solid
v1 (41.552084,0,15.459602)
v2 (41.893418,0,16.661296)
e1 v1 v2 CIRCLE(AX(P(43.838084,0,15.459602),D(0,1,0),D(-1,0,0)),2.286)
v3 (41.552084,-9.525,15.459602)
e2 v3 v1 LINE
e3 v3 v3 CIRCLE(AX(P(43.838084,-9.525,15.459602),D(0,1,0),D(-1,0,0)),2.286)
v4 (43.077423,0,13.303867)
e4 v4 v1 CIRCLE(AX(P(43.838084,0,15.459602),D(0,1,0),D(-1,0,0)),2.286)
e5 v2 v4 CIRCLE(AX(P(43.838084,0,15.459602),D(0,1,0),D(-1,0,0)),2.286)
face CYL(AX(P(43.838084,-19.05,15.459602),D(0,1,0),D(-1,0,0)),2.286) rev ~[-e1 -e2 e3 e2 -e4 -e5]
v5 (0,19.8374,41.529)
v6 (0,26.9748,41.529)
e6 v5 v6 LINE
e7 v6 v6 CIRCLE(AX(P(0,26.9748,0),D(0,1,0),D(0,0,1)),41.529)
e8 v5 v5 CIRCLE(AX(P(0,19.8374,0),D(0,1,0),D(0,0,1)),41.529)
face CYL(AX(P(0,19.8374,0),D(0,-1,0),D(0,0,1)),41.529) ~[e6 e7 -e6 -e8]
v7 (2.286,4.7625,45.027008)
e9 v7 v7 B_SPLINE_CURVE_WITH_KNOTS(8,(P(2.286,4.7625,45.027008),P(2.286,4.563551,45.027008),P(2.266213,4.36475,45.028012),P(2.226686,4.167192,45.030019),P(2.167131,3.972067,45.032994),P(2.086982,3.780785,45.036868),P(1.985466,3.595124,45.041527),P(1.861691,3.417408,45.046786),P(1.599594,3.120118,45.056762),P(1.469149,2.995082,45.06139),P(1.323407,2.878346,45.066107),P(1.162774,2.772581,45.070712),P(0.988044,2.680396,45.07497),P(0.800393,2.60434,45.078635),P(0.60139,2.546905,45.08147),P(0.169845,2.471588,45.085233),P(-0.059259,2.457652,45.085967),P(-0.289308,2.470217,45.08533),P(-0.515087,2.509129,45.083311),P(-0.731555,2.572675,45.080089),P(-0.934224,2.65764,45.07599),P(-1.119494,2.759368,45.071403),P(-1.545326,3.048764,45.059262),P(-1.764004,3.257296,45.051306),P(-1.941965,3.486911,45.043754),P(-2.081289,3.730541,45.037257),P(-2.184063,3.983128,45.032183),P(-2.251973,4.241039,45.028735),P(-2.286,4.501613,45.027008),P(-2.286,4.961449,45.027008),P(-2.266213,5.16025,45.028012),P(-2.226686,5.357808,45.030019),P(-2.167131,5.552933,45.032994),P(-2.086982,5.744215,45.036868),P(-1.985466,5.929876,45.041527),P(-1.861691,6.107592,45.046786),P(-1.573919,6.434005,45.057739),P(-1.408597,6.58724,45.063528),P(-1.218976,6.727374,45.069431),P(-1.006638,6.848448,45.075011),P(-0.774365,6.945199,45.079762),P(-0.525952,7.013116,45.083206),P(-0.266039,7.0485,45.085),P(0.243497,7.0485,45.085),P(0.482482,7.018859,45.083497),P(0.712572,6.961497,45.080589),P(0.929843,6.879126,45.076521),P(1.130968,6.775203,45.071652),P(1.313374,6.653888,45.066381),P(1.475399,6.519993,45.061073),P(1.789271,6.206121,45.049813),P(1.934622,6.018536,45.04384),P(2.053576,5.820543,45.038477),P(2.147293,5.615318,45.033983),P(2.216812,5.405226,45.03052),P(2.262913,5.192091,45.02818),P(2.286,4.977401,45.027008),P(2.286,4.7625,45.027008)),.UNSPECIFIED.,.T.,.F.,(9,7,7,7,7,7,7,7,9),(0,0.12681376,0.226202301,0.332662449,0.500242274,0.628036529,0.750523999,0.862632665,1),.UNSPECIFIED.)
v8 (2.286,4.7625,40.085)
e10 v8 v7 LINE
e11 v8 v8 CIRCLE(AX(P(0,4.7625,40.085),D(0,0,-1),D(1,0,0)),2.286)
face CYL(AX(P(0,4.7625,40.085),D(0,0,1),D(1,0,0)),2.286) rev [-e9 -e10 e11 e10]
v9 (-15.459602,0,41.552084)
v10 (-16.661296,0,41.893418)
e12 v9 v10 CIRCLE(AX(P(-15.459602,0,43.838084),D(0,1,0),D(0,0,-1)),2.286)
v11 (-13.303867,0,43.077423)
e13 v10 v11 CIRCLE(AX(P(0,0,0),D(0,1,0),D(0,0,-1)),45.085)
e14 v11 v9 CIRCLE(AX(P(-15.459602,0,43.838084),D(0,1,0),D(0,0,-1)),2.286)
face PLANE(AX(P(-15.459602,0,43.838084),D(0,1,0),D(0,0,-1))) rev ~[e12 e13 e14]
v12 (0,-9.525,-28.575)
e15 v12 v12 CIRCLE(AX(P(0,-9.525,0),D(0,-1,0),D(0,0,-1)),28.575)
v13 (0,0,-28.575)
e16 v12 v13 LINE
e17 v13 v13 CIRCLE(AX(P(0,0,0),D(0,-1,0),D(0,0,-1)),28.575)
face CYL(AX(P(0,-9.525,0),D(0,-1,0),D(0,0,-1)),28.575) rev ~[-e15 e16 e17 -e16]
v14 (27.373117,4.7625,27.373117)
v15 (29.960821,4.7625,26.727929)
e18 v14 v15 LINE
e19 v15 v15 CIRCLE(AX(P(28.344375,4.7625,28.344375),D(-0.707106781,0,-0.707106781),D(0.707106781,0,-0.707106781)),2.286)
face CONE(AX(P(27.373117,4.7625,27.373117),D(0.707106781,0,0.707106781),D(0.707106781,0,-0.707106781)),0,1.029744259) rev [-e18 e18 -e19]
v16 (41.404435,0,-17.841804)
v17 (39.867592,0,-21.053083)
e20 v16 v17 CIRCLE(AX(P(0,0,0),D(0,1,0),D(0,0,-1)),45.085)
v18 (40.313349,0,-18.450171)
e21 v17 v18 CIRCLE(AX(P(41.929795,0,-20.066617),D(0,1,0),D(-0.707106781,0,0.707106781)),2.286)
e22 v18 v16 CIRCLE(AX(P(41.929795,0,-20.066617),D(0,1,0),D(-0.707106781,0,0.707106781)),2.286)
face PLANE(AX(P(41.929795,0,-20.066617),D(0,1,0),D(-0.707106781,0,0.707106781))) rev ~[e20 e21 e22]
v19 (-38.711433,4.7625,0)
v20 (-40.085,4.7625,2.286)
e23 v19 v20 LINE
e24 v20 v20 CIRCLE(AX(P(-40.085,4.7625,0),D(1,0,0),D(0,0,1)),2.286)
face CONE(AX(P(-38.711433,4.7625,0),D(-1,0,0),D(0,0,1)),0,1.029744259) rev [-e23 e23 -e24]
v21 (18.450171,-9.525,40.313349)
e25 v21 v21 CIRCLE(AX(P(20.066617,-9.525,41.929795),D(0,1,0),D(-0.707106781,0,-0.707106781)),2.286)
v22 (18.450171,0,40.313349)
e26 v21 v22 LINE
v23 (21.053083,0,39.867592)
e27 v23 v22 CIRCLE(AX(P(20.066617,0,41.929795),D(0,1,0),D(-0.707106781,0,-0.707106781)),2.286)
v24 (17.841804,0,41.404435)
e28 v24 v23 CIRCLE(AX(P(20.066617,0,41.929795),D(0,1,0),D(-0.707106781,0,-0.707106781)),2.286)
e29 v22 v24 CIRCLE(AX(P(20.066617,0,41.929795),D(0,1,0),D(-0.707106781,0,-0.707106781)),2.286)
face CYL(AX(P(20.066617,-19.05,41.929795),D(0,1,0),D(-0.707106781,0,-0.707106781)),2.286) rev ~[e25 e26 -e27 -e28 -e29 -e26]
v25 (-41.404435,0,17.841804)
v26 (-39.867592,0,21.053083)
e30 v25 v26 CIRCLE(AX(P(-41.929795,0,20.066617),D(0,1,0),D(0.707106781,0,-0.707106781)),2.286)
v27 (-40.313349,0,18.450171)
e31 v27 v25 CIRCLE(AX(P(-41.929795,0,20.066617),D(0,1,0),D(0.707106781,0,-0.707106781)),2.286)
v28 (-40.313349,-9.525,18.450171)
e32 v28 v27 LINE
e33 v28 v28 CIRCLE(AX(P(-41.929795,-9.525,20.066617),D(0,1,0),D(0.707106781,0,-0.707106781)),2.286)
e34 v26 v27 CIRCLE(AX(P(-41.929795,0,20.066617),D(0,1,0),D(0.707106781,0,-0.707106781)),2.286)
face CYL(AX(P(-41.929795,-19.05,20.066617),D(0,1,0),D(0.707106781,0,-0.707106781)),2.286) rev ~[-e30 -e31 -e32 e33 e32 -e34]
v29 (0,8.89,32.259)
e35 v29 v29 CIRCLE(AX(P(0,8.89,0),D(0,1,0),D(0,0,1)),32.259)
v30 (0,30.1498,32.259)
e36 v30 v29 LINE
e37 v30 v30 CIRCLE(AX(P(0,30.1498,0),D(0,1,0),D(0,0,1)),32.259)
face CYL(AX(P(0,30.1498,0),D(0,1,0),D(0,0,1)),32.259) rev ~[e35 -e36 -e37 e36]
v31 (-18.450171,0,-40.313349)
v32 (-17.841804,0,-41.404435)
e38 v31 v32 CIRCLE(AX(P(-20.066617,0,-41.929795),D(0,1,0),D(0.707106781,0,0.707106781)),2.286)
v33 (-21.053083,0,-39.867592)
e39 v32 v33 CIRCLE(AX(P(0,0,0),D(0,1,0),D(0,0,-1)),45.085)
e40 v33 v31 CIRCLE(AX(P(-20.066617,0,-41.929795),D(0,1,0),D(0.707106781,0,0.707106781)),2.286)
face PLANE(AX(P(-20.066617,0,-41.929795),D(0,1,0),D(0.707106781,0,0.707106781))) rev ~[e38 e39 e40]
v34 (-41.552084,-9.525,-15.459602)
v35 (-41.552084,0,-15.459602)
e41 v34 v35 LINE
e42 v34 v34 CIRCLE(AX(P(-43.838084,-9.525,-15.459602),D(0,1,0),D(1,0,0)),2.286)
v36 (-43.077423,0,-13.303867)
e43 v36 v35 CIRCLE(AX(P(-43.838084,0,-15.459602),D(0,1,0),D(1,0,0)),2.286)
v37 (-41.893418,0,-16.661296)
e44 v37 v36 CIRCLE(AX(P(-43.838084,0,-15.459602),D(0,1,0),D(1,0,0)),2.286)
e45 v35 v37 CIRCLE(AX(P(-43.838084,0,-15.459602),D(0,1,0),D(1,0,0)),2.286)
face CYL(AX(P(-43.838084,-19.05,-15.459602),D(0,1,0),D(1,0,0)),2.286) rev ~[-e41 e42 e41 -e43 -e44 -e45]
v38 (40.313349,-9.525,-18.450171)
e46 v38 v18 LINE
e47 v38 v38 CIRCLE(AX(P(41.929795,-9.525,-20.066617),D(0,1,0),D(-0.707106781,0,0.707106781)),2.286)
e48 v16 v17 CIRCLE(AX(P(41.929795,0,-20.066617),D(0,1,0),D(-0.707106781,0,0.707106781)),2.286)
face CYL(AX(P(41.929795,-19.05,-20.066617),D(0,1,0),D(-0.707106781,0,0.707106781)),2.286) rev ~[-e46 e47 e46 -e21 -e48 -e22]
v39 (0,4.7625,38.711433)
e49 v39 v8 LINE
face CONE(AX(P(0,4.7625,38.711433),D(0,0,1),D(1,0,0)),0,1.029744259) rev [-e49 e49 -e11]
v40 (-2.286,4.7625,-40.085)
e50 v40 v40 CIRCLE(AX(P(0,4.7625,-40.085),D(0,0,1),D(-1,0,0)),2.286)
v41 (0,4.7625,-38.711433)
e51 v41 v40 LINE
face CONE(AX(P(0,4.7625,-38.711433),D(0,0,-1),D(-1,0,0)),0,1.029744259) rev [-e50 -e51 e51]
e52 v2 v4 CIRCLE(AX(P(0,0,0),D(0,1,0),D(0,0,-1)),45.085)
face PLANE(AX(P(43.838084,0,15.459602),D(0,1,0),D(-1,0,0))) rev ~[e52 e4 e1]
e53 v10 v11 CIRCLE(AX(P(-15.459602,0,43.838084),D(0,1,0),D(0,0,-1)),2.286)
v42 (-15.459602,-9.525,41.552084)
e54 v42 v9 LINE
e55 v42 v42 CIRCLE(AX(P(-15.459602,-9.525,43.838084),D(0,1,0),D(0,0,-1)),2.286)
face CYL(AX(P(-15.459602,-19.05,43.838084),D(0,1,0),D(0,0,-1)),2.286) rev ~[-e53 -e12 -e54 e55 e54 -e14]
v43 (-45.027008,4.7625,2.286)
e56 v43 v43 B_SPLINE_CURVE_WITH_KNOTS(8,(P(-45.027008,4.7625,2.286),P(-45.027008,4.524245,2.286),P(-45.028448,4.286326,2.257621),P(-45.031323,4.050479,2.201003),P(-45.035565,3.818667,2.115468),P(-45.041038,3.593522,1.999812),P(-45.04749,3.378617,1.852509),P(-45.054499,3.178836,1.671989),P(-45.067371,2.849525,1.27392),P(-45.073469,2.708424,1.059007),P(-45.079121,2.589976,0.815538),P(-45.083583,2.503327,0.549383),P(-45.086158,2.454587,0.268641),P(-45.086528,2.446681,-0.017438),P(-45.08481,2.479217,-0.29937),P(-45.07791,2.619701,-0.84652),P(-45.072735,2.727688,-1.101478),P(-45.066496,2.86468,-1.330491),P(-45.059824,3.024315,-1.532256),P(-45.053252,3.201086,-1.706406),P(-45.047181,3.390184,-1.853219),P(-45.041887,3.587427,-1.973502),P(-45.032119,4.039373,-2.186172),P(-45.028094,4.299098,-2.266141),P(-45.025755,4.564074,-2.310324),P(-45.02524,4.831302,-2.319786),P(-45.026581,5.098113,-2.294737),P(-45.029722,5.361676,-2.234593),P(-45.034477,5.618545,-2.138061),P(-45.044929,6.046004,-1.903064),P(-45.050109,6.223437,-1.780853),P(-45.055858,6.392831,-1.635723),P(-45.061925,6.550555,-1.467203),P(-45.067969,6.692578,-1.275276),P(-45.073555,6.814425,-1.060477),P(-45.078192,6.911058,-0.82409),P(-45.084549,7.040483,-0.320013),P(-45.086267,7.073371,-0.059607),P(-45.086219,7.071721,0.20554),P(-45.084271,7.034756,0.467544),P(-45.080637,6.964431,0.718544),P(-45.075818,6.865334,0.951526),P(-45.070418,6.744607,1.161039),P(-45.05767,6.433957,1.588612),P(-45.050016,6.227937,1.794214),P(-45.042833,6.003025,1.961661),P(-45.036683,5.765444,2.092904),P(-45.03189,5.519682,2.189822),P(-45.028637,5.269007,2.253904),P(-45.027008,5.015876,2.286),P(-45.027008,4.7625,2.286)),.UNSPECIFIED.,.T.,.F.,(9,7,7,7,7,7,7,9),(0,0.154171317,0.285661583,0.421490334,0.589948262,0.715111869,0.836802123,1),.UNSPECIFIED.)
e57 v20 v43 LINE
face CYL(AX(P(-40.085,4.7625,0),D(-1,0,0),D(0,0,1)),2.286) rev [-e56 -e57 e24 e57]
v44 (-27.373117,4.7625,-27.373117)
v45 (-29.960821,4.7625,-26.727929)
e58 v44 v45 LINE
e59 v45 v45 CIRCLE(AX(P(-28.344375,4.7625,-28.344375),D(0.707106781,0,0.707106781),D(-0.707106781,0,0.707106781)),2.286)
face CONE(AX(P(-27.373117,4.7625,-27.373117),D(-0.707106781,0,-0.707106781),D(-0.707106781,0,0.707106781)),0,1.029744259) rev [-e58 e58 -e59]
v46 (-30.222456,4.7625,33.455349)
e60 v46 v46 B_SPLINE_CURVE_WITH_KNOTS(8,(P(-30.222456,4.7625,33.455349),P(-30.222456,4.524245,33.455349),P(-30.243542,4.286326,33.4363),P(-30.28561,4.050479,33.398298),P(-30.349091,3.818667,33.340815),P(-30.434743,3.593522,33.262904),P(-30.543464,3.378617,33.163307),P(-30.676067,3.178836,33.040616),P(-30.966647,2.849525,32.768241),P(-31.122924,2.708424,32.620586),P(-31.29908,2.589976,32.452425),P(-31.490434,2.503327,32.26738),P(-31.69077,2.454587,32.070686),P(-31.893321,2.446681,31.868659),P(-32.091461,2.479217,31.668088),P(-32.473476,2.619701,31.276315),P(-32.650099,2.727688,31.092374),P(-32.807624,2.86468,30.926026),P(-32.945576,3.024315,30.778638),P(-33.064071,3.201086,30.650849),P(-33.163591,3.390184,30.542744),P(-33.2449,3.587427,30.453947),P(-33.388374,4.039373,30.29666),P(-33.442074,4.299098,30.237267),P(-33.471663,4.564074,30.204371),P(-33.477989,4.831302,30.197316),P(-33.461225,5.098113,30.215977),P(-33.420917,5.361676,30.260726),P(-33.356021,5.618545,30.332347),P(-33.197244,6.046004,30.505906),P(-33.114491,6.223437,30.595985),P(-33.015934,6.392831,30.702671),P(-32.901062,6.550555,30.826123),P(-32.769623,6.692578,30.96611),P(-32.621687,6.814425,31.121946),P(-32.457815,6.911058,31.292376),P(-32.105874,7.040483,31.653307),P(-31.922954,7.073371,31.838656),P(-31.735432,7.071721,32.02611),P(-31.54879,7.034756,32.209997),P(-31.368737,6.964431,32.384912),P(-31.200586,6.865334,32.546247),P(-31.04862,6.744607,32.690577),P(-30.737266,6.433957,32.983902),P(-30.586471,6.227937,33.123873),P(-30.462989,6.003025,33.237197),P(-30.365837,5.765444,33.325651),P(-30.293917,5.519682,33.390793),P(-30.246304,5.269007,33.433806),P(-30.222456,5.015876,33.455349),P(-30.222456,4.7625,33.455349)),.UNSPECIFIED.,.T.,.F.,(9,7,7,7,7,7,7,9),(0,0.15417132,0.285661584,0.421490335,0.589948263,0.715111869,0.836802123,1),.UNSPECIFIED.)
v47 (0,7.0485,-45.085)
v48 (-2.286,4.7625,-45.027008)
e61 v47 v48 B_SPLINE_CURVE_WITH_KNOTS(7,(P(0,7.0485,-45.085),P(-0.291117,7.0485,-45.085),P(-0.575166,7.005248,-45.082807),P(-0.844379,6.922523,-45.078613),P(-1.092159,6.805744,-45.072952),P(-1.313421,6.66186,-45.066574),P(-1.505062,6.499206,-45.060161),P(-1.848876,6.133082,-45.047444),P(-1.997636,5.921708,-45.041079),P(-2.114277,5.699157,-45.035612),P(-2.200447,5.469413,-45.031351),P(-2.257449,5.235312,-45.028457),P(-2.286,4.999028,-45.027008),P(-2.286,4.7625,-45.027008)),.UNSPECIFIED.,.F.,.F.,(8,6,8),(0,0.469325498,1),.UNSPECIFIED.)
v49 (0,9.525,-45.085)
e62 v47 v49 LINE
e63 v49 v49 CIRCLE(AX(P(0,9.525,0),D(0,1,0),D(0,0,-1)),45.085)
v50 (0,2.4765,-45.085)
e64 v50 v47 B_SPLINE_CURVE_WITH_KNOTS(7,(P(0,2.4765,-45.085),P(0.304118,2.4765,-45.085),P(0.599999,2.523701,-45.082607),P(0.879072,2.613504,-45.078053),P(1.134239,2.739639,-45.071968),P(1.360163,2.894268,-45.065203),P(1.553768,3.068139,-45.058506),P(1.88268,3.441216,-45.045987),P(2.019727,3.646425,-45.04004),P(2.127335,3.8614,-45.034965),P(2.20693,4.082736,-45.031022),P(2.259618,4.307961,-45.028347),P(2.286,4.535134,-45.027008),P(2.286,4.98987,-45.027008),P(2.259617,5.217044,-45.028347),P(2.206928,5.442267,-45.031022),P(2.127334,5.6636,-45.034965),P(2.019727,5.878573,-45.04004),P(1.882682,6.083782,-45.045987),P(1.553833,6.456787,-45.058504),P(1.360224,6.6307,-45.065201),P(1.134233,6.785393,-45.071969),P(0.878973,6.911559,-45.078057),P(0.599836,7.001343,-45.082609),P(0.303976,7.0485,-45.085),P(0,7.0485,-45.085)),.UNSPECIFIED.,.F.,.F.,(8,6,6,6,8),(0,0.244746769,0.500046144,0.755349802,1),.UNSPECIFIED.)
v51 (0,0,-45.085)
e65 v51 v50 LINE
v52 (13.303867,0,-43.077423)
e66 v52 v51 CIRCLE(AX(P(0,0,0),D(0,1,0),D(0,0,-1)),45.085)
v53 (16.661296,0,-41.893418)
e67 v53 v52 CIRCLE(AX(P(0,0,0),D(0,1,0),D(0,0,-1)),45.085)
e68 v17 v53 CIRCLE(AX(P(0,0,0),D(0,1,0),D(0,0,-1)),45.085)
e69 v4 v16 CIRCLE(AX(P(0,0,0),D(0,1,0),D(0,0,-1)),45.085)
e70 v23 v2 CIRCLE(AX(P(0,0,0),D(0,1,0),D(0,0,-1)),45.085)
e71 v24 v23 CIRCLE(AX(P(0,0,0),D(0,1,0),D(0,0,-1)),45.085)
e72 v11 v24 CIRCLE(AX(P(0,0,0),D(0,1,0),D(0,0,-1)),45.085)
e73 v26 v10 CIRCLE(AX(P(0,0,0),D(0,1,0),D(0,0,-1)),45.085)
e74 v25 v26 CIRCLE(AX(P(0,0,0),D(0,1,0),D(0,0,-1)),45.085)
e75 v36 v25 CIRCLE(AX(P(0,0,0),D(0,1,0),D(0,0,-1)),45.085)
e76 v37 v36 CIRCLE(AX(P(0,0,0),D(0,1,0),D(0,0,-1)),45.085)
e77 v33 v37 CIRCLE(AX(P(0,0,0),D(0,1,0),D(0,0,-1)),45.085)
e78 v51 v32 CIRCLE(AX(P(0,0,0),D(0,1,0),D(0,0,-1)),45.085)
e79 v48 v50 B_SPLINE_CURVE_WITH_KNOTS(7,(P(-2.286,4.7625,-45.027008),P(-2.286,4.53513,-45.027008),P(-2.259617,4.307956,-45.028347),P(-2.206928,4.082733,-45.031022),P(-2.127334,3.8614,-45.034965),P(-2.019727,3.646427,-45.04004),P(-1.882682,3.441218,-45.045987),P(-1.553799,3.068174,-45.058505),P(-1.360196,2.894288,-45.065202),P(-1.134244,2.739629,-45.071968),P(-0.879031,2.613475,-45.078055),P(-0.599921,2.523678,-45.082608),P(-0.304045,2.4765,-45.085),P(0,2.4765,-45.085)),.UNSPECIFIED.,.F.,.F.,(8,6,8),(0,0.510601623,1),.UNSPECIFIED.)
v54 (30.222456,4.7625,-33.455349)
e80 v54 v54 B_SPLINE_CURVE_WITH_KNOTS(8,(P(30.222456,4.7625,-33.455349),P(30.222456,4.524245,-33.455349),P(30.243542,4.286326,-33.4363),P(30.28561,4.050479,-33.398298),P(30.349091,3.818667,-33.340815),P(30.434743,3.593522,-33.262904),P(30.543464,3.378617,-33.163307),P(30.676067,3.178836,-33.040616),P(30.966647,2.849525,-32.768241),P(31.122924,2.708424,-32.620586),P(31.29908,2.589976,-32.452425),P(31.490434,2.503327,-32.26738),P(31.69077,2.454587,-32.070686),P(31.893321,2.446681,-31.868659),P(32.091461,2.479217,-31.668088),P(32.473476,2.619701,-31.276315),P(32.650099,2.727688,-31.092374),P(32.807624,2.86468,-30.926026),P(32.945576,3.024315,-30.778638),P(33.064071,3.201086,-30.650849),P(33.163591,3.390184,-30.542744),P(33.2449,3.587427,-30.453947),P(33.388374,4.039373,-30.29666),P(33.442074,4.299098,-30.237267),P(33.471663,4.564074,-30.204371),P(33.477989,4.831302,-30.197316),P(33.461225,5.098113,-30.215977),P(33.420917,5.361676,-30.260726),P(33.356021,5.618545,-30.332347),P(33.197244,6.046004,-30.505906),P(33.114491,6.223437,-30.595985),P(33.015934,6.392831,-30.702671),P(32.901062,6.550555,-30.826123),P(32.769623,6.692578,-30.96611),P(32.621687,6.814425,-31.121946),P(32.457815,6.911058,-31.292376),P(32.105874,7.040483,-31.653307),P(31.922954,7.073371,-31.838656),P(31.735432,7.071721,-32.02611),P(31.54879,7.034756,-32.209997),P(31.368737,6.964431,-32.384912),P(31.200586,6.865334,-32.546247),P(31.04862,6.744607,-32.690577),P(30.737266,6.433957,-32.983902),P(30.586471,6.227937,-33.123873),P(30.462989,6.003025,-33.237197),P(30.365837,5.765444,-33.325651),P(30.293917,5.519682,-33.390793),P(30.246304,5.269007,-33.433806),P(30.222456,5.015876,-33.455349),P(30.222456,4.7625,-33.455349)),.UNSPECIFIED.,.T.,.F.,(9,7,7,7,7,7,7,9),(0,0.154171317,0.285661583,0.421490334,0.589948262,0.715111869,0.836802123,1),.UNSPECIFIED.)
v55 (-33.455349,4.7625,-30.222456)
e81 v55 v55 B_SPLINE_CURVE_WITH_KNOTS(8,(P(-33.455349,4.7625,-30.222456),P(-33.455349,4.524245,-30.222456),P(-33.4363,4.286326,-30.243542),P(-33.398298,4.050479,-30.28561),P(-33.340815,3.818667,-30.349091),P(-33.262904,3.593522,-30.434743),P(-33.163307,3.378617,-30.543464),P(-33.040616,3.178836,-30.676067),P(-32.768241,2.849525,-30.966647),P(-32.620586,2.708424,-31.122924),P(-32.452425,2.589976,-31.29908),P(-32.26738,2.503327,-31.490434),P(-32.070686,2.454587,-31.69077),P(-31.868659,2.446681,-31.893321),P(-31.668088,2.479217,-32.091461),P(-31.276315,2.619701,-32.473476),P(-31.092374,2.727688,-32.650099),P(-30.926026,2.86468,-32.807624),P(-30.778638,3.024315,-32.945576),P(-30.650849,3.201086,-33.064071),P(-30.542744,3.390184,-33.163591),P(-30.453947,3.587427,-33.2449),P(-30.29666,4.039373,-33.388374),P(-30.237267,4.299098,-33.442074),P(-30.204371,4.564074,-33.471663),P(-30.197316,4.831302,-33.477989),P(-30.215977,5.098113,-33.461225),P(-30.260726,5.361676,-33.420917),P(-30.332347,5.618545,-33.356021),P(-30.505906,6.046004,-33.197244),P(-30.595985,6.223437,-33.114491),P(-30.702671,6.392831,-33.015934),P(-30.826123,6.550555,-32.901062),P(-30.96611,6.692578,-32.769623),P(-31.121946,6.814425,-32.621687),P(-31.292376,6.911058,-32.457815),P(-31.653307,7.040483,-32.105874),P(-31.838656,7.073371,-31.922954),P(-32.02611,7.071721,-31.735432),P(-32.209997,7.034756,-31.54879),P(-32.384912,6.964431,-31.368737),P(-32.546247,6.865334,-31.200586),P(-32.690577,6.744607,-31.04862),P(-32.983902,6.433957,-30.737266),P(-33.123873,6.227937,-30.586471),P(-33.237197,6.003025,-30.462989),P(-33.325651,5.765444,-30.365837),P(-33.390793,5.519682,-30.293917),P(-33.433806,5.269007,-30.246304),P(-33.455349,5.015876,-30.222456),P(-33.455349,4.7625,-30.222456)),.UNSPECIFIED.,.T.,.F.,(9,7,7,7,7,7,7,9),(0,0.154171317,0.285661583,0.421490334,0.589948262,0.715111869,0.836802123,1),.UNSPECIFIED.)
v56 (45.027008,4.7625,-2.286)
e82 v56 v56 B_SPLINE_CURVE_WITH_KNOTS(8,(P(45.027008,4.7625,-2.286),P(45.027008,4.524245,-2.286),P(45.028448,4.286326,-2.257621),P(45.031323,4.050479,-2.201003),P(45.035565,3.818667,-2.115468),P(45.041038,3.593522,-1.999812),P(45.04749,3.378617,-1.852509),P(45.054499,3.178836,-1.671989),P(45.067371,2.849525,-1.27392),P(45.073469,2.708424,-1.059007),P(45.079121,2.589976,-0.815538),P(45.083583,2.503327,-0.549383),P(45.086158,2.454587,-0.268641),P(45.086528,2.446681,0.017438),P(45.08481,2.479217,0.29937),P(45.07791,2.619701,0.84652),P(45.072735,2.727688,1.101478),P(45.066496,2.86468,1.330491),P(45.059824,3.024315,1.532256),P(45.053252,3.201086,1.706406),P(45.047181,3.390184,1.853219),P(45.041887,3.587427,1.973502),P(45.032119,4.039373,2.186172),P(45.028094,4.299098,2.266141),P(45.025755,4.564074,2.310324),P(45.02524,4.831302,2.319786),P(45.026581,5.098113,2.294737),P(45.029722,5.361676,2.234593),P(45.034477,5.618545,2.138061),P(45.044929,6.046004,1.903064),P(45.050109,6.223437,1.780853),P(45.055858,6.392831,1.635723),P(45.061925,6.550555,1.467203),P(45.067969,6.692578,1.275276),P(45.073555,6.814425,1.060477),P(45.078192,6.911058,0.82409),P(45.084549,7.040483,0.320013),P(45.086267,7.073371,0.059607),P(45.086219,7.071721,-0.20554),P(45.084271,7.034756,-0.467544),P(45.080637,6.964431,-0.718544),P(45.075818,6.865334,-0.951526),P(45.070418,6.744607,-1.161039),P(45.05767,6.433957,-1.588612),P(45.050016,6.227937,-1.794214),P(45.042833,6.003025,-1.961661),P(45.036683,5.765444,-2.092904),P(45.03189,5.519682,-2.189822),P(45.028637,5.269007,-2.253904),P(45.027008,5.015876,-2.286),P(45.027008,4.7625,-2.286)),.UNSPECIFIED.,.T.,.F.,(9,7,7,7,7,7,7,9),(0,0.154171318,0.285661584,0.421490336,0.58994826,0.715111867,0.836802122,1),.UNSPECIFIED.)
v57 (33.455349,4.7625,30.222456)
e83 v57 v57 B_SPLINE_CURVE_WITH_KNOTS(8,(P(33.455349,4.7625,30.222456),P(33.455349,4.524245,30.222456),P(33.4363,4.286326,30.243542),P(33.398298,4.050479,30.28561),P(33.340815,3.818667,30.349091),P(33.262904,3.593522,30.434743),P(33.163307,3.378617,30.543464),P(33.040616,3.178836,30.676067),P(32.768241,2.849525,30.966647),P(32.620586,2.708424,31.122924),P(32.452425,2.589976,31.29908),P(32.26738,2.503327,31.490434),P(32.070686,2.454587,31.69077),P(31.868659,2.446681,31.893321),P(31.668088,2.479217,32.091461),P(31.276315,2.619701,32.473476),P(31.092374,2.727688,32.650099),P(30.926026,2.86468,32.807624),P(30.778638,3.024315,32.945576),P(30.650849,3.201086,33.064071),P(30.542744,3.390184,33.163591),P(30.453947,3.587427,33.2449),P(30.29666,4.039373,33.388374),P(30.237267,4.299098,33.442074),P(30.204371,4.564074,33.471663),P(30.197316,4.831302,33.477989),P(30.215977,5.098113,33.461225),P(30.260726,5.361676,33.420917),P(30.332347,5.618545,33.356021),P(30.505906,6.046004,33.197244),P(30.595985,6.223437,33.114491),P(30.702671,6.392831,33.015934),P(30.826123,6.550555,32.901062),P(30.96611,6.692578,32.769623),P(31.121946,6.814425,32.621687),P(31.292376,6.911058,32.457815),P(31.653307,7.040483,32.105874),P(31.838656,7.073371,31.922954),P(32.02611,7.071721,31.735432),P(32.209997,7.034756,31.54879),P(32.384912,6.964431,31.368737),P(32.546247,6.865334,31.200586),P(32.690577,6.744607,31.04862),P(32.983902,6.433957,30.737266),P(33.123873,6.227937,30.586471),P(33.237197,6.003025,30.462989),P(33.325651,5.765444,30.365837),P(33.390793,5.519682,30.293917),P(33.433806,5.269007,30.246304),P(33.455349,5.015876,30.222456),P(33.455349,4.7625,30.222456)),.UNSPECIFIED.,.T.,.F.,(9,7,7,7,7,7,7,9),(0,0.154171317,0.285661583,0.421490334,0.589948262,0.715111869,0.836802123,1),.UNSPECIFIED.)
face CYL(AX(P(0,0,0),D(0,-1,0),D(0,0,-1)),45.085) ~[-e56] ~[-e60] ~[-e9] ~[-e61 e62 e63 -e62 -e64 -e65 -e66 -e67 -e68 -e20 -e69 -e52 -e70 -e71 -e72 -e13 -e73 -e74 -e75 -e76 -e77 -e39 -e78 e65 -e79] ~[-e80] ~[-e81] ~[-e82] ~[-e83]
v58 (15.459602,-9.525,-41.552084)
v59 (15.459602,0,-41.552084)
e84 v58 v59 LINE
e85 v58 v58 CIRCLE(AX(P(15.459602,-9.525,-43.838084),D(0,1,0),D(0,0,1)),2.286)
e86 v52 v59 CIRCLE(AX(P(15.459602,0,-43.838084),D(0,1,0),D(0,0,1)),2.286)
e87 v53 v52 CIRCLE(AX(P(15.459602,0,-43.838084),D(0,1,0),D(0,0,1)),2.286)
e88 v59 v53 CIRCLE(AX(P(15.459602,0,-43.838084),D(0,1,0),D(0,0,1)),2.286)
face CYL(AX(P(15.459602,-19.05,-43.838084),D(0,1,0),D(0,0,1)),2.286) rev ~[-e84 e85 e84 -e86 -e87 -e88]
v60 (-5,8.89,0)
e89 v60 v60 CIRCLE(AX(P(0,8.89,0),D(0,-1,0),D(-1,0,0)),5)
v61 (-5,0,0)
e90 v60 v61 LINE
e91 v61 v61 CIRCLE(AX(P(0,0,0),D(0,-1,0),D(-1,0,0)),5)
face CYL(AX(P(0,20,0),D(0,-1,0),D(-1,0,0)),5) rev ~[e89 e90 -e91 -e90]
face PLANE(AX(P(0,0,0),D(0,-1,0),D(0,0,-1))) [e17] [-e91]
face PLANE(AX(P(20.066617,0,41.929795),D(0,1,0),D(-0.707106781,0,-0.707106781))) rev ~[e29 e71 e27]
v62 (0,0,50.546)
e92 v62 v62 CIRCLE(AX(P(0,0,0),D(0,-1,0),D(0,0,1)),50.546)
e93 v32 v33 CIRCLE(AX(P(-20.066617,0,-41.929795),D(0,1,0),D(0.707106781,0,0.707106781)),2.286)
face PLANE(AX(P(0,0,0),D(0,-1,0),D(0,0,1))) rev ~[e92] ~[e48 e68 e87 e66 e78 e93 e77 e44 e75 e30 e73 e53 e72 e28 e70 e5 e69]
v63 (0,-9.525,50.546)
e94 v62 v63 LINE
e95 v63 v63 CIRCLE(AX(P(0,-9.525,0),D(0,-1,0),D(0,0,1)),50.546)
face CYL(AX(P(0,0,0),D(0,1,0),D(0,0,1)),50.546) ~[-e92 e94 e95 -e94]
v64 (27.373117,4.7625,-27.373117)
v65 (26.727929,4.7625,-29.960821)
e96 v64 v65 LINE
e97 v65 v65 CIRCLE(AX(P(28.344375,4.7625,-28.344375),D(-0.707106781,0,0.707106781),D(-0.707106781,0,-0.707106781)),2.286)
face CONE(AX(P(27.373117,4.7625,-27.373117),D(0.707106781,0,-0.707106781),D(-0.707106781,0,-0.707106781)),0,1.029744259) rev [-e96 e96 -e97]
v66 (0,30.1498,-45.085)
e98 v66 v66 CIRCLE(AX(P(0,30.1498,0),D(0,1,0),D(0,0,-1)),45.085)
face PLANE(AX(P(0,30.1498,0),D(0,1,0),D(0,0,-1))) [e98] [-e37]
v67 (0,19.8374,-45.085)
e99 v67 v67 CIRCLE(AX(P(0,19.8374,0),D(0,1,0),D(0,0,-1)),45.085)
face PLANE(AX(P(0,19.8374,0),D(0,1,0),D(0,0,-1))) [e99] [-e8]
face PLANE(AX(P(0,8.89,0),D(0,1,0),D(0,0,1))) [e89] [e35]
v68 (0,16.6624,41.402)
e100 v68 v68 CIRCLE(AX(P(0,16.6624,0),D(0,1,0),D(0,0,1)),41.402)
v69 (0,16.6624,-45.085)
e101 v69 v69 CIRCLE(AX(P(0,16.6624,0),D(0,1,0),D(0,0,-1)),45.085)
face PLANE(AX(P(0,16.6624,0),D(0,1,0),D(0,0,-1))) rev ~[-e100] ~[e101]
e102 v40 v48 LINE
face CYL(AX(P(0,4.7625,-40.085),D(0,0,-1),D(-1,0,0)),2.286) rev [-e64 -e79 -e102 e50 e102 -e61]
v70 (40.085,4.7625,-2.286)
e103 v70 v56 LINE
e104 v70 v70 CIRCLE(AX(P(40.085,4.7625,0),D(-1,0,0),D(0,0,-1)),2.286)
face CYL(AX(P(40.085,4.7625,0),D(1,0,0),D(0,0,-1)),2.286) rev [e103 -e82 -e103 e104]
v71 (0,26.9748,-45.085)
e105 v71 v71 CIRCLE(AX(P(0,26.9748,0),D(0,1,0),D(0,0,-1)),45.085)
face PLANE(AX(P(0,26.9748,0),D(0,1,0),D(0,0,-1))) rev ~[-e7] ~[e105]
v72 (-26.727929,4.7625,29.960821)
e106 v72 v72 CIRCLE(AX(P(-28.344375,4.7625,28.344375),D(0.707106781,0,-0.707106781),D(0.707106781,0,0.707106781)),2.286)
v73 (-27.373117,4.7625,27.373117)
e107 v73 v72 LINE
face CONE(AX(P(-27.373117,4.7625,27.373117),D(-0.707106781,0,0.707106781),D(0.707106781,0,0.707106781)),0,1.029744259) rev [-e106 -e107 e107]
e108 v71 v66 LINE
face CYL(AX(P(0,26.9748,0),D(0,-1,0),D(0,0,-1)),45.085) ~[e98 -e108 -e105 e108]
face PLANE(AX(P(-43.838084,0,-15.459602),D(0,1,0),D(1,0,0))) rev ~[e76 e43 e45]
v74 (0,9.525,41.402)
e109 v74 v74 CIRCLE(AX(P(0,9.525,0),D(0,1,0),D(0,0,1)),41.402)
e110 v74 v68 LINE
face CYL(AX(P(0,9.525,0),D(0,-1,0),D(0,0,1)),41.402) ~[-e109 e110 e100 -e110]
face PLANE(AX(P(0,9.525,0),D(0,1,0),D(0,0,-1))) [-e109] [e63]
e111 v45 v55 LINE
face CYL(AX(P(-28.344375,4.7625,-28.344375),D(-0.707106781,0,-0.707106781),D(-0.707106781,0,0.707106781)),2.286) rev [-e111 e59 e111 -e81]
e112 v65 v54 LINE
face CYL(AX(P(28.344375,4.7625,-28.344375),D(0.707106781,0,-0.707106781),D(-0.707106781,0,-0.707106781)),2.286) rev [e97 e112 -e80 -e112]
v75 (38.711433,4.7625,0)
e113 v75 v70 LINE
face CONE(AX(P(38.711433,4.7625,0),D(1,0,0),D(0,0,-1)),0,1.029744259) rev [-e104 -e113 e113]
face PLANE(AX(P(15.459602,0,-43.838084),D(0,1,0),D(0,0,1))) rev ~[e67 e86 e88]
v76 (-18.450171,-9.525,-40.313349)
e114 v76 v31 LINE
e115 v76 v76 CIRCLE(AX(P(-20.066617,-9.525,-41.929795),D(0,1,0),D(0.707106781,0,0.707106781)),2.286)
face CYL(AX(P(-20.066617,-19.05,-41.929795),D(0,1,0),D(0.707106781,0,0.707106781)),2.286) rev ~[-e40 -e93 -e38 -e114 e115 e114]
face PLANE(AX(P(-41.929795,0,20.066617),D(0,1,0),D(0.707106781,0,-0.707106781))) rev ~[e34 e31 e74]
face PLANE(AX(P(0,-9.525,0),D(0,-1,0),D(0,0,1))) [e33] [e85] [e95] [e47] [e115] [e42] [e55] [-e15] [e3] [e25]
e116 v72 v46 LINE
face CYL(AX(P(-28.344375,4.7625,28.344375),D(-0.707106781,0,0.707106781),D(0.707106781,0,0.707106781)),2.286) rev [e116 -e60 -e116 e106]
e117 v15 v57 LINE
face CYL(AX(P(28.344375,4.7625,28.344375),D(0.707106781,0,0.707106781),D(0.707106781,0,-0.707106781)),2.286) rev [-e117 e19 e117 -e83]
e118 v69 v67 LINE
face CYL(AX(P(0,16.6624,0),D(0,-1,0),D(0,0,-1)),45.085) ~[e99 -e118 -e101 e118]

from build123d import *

# Parameters (mm, degrees)
SKETCH1_R                        = 45.085
BOSS_EXTRUDE1_DEPTH              = 9.525
SKETCH2_R                        = 41.402
BOSS_EXTRUDE2_DEPTH              = 7.1374
SKETCH3_R                        = 45.085
BOSS_EXTRUDE3_DEPTH              = 3.175
SKETCH4_R                        = 41.529
BOSS_EXTRUDE4_DEPTH              = 7.1374
SKETCH5_R                        = 45.085
BOSS_EXTRUDE5_DEPTH              = 3.175
CIRPATTERN1_COUNT                = 8
M10X1_0_TAPPED_HOLE1_D           = 9
M10X1_0_TAPPED_HOLE1_DEPTH       = 25
M10X1_0_TAPPED_HOLE1_CBORE_D     = 10
M10X1_0_TAPPED_HOLE1_CBORE_DEPTH = 20
M10X1_0_TAPPED_HOLE1_TIP         = 2.703872786
SKETCH9_R                        = 32.259
CUT_EXTRUDE1_DEPTH               = 21.2598
SKETCH11_R                       = 50.546
BOSS_EXTRUDE6_DEPTH              = 9.525
SKETCH12_R                       = 28.575
CUT_EXTRUDE2_DEPTH               = 9.525
F_15_0_18_DIAMETER_HOLE1_D       = 4.572
F_15_0_18_DIAMETER_HOLE1_DEPTH   = 9.525
CIRPATTERN2_COUNT                = 8


with BuildPart() as part:
    # Sketch1 → Boss-Extrude1 (new body)
    with BuildSketch(Plane(origin=(0, 0, 0), x_dir=(1, 0, 0), z_dir=(0, 1, 0))):
        with Locations(Location((0, 0, 0), (0, 0, 90))):
            Circle(SKETCH1_R)
    extrude(amount=BOSS_EXTRUDE1_DEPTH)

    # Sketch2 → Boss-Extrude2 (add)
    with BuildSketch(Plane(origin=(0, 9.525, 0), x_dir=(1, 0, 0), z_dir=(0, 1, 0))):
        with Locations(Location((0, 0, 0), (0, 0, 270))):
            Circle(SKETCH2_R)
    extrude(amount=BOSS_EXTRUDE2_DEPTH)

    # Sketch3 → Boss-Extrude3 (add)
    with BuildSketch(Plane(origin=(0, 16.6624, 0), x_dir=(1, 0, 0), z_dir=(0, 1, 0))):
        with Locations(Location((0, 0, 0), (0, 0, 90))):
            Circle(SKETCH3_R)
    extrude(amount=BOSS_EXTRUDE3_DEPTH)

    # Sketch4 → Boss-Extrude4 (add)
    with BuildSketch(Plane(origin=(0, 19.8374, 0), x_dir=(1, 0, 0), z_dir=(0, 1, 0))):
        with Locations(Location((0, 0, 0), (0, 0, 270))):
            Circle(SKETCH4_R)
    extrude(amount=BOSS_EXTRUDE4_DEPTH)

    # Sketch5 → Boss-Extrude5 (add)
    with BuildSketch(Plane(origin=(0, 26.9748, 0), x_dir=(1, 0, 0), z_dir=(0, 1, 0))):
        with Locations(Location((0, 0, 0), (0, 0, 90))):
            Circle(SKETCH5_R)
    extrude(amount=BOSS_EXTRUDE5_DEPTH)

    # Sketch6 → #15 (0.18) Diameter Hole2 (revolve, cut)
    with BuildSketch(Plane(origin=(-45.085, 4.7625, 0), x_dir=(0, 0, 1), z_dir=(0, 1, 0))):
        Polygon((0, 0), (0, 6.373567375), (2.286, 5), (2.286, 0), align=None)
    f_15_0_18_diameter_hole2 = revolve(axis=Axis((-51.435, 4.7625, 0), (1, 0, 0)), mode=Mode.SUBTRACT)

    # CirPattern1: #15 (0.18) Diameter Hole2 ×8 about axis
    cirpattern1_axis = Axis((0, 9.525, 0), (0, -1, 0))
    for i in range(1, CIRPATTERN1_COUNT):
        add(f_15_0_18_diameter_hole2.rotate(cirpattern1_axis, i * 360 / CIRPATTERN1_COUNT), mode=Mode.SUBTRACT)

    # M10x1.0 Tapped Hole1
    with Locations(Plane(origin=(0, 0, 0), x_dir=(-1, 0, 0), z_dir=(0, -1, 0))):
        with Locations((0, 0)):
            CounterBoreHole(M10X1_0_TAPPED_HOLE1_D / 2, M10X1_0_TAPPED_HOLE1_CBORE_D / 2, M10X1_0_TAPPED_HOLE1_CBORE_DEPTH, depth=M10X1_0_TAPPED_HOLE1_DEPTH)
            with Locations((0, 0, -(M10X1_0_TAPPED_HOLE1_DEPTH + M10X1_0_TAPPED_HOLE1_TIP / 2))):  # 118° drill point
                Cone(0, M10X1_0_TAPPED_HOLE1_D / 2, M10X1_0_TAPPED_HOLE1_TIP, mode=Mode.SUBTRACT)

    # Sketch9 → Cut-Extrude1 (cut)
    with BuildSketch(Plane(origin=(0, 30.1498, 0), x_dir=(1, 0, 0), z_dir=(0, 1, 0))):
        with Locations(Location((0, 0, 0), (0, 0, 270))):
            Circle(SKETCH9_R)
    extrude(amount=-CUT_EXTRUDE1_DEPTH, mode=Mode.SUBTRACT)

    # Sketch11 → Boss-Extrude6 (add)
    with BuildSketch(Plane(origin=(0, 0, 0), x_dir=(-1, 0, 0), z_dir=(0, -1, 0))):
        with Locations(Location((0, 0, 0), (0, 0, 270))):
            Circle(SKETCH11_R)
    extrude(amount=BOSS_EXTRUDE6_DEPTH)

    # Sketch12 → Cut-Extrude2 (cut)
    with BuildSketch(Plane.XZ.offset(9.525)):
        with Locations(Location((0, 0, 0), (0, 0, 270))):
            Circle(SKETCH12_R)
    extrude(amount=-CUT_EXTRUDE2_DEPTH, mode=Mode.SUBTRACT)

    # #15 (0.18) Diameter Hole1
    with Locations(Plane(origin=(15.459601618, -9.525, -43.838083818), x_dir=(0, 0, -1), z_dir=(0, -1, 0))):
        with Locations((0, 0)):
            f_15_0_18_diameter_hole1 = Hole(F_15_0_18_DIAMETER_HOLE1_D / 2, depth=F_15_0_18_DIAMETER_HOLE1_DEPTH)

    # CirPattern2: #15 (0.18) Diameter Hole1 ×8 about axis
    cirpattern2_axis = Axis((0, 0, 0), (0, 1, 0))
    for i in range(1, CIRPATTERN2_COUNT):
        add(f_15_0_18_diameter_hole1.rotate(cirpattern2_axis, i * 360 / CIRPATTERN2_COUNT), mode=Mode.SUBTRACT)


solid = part.part
